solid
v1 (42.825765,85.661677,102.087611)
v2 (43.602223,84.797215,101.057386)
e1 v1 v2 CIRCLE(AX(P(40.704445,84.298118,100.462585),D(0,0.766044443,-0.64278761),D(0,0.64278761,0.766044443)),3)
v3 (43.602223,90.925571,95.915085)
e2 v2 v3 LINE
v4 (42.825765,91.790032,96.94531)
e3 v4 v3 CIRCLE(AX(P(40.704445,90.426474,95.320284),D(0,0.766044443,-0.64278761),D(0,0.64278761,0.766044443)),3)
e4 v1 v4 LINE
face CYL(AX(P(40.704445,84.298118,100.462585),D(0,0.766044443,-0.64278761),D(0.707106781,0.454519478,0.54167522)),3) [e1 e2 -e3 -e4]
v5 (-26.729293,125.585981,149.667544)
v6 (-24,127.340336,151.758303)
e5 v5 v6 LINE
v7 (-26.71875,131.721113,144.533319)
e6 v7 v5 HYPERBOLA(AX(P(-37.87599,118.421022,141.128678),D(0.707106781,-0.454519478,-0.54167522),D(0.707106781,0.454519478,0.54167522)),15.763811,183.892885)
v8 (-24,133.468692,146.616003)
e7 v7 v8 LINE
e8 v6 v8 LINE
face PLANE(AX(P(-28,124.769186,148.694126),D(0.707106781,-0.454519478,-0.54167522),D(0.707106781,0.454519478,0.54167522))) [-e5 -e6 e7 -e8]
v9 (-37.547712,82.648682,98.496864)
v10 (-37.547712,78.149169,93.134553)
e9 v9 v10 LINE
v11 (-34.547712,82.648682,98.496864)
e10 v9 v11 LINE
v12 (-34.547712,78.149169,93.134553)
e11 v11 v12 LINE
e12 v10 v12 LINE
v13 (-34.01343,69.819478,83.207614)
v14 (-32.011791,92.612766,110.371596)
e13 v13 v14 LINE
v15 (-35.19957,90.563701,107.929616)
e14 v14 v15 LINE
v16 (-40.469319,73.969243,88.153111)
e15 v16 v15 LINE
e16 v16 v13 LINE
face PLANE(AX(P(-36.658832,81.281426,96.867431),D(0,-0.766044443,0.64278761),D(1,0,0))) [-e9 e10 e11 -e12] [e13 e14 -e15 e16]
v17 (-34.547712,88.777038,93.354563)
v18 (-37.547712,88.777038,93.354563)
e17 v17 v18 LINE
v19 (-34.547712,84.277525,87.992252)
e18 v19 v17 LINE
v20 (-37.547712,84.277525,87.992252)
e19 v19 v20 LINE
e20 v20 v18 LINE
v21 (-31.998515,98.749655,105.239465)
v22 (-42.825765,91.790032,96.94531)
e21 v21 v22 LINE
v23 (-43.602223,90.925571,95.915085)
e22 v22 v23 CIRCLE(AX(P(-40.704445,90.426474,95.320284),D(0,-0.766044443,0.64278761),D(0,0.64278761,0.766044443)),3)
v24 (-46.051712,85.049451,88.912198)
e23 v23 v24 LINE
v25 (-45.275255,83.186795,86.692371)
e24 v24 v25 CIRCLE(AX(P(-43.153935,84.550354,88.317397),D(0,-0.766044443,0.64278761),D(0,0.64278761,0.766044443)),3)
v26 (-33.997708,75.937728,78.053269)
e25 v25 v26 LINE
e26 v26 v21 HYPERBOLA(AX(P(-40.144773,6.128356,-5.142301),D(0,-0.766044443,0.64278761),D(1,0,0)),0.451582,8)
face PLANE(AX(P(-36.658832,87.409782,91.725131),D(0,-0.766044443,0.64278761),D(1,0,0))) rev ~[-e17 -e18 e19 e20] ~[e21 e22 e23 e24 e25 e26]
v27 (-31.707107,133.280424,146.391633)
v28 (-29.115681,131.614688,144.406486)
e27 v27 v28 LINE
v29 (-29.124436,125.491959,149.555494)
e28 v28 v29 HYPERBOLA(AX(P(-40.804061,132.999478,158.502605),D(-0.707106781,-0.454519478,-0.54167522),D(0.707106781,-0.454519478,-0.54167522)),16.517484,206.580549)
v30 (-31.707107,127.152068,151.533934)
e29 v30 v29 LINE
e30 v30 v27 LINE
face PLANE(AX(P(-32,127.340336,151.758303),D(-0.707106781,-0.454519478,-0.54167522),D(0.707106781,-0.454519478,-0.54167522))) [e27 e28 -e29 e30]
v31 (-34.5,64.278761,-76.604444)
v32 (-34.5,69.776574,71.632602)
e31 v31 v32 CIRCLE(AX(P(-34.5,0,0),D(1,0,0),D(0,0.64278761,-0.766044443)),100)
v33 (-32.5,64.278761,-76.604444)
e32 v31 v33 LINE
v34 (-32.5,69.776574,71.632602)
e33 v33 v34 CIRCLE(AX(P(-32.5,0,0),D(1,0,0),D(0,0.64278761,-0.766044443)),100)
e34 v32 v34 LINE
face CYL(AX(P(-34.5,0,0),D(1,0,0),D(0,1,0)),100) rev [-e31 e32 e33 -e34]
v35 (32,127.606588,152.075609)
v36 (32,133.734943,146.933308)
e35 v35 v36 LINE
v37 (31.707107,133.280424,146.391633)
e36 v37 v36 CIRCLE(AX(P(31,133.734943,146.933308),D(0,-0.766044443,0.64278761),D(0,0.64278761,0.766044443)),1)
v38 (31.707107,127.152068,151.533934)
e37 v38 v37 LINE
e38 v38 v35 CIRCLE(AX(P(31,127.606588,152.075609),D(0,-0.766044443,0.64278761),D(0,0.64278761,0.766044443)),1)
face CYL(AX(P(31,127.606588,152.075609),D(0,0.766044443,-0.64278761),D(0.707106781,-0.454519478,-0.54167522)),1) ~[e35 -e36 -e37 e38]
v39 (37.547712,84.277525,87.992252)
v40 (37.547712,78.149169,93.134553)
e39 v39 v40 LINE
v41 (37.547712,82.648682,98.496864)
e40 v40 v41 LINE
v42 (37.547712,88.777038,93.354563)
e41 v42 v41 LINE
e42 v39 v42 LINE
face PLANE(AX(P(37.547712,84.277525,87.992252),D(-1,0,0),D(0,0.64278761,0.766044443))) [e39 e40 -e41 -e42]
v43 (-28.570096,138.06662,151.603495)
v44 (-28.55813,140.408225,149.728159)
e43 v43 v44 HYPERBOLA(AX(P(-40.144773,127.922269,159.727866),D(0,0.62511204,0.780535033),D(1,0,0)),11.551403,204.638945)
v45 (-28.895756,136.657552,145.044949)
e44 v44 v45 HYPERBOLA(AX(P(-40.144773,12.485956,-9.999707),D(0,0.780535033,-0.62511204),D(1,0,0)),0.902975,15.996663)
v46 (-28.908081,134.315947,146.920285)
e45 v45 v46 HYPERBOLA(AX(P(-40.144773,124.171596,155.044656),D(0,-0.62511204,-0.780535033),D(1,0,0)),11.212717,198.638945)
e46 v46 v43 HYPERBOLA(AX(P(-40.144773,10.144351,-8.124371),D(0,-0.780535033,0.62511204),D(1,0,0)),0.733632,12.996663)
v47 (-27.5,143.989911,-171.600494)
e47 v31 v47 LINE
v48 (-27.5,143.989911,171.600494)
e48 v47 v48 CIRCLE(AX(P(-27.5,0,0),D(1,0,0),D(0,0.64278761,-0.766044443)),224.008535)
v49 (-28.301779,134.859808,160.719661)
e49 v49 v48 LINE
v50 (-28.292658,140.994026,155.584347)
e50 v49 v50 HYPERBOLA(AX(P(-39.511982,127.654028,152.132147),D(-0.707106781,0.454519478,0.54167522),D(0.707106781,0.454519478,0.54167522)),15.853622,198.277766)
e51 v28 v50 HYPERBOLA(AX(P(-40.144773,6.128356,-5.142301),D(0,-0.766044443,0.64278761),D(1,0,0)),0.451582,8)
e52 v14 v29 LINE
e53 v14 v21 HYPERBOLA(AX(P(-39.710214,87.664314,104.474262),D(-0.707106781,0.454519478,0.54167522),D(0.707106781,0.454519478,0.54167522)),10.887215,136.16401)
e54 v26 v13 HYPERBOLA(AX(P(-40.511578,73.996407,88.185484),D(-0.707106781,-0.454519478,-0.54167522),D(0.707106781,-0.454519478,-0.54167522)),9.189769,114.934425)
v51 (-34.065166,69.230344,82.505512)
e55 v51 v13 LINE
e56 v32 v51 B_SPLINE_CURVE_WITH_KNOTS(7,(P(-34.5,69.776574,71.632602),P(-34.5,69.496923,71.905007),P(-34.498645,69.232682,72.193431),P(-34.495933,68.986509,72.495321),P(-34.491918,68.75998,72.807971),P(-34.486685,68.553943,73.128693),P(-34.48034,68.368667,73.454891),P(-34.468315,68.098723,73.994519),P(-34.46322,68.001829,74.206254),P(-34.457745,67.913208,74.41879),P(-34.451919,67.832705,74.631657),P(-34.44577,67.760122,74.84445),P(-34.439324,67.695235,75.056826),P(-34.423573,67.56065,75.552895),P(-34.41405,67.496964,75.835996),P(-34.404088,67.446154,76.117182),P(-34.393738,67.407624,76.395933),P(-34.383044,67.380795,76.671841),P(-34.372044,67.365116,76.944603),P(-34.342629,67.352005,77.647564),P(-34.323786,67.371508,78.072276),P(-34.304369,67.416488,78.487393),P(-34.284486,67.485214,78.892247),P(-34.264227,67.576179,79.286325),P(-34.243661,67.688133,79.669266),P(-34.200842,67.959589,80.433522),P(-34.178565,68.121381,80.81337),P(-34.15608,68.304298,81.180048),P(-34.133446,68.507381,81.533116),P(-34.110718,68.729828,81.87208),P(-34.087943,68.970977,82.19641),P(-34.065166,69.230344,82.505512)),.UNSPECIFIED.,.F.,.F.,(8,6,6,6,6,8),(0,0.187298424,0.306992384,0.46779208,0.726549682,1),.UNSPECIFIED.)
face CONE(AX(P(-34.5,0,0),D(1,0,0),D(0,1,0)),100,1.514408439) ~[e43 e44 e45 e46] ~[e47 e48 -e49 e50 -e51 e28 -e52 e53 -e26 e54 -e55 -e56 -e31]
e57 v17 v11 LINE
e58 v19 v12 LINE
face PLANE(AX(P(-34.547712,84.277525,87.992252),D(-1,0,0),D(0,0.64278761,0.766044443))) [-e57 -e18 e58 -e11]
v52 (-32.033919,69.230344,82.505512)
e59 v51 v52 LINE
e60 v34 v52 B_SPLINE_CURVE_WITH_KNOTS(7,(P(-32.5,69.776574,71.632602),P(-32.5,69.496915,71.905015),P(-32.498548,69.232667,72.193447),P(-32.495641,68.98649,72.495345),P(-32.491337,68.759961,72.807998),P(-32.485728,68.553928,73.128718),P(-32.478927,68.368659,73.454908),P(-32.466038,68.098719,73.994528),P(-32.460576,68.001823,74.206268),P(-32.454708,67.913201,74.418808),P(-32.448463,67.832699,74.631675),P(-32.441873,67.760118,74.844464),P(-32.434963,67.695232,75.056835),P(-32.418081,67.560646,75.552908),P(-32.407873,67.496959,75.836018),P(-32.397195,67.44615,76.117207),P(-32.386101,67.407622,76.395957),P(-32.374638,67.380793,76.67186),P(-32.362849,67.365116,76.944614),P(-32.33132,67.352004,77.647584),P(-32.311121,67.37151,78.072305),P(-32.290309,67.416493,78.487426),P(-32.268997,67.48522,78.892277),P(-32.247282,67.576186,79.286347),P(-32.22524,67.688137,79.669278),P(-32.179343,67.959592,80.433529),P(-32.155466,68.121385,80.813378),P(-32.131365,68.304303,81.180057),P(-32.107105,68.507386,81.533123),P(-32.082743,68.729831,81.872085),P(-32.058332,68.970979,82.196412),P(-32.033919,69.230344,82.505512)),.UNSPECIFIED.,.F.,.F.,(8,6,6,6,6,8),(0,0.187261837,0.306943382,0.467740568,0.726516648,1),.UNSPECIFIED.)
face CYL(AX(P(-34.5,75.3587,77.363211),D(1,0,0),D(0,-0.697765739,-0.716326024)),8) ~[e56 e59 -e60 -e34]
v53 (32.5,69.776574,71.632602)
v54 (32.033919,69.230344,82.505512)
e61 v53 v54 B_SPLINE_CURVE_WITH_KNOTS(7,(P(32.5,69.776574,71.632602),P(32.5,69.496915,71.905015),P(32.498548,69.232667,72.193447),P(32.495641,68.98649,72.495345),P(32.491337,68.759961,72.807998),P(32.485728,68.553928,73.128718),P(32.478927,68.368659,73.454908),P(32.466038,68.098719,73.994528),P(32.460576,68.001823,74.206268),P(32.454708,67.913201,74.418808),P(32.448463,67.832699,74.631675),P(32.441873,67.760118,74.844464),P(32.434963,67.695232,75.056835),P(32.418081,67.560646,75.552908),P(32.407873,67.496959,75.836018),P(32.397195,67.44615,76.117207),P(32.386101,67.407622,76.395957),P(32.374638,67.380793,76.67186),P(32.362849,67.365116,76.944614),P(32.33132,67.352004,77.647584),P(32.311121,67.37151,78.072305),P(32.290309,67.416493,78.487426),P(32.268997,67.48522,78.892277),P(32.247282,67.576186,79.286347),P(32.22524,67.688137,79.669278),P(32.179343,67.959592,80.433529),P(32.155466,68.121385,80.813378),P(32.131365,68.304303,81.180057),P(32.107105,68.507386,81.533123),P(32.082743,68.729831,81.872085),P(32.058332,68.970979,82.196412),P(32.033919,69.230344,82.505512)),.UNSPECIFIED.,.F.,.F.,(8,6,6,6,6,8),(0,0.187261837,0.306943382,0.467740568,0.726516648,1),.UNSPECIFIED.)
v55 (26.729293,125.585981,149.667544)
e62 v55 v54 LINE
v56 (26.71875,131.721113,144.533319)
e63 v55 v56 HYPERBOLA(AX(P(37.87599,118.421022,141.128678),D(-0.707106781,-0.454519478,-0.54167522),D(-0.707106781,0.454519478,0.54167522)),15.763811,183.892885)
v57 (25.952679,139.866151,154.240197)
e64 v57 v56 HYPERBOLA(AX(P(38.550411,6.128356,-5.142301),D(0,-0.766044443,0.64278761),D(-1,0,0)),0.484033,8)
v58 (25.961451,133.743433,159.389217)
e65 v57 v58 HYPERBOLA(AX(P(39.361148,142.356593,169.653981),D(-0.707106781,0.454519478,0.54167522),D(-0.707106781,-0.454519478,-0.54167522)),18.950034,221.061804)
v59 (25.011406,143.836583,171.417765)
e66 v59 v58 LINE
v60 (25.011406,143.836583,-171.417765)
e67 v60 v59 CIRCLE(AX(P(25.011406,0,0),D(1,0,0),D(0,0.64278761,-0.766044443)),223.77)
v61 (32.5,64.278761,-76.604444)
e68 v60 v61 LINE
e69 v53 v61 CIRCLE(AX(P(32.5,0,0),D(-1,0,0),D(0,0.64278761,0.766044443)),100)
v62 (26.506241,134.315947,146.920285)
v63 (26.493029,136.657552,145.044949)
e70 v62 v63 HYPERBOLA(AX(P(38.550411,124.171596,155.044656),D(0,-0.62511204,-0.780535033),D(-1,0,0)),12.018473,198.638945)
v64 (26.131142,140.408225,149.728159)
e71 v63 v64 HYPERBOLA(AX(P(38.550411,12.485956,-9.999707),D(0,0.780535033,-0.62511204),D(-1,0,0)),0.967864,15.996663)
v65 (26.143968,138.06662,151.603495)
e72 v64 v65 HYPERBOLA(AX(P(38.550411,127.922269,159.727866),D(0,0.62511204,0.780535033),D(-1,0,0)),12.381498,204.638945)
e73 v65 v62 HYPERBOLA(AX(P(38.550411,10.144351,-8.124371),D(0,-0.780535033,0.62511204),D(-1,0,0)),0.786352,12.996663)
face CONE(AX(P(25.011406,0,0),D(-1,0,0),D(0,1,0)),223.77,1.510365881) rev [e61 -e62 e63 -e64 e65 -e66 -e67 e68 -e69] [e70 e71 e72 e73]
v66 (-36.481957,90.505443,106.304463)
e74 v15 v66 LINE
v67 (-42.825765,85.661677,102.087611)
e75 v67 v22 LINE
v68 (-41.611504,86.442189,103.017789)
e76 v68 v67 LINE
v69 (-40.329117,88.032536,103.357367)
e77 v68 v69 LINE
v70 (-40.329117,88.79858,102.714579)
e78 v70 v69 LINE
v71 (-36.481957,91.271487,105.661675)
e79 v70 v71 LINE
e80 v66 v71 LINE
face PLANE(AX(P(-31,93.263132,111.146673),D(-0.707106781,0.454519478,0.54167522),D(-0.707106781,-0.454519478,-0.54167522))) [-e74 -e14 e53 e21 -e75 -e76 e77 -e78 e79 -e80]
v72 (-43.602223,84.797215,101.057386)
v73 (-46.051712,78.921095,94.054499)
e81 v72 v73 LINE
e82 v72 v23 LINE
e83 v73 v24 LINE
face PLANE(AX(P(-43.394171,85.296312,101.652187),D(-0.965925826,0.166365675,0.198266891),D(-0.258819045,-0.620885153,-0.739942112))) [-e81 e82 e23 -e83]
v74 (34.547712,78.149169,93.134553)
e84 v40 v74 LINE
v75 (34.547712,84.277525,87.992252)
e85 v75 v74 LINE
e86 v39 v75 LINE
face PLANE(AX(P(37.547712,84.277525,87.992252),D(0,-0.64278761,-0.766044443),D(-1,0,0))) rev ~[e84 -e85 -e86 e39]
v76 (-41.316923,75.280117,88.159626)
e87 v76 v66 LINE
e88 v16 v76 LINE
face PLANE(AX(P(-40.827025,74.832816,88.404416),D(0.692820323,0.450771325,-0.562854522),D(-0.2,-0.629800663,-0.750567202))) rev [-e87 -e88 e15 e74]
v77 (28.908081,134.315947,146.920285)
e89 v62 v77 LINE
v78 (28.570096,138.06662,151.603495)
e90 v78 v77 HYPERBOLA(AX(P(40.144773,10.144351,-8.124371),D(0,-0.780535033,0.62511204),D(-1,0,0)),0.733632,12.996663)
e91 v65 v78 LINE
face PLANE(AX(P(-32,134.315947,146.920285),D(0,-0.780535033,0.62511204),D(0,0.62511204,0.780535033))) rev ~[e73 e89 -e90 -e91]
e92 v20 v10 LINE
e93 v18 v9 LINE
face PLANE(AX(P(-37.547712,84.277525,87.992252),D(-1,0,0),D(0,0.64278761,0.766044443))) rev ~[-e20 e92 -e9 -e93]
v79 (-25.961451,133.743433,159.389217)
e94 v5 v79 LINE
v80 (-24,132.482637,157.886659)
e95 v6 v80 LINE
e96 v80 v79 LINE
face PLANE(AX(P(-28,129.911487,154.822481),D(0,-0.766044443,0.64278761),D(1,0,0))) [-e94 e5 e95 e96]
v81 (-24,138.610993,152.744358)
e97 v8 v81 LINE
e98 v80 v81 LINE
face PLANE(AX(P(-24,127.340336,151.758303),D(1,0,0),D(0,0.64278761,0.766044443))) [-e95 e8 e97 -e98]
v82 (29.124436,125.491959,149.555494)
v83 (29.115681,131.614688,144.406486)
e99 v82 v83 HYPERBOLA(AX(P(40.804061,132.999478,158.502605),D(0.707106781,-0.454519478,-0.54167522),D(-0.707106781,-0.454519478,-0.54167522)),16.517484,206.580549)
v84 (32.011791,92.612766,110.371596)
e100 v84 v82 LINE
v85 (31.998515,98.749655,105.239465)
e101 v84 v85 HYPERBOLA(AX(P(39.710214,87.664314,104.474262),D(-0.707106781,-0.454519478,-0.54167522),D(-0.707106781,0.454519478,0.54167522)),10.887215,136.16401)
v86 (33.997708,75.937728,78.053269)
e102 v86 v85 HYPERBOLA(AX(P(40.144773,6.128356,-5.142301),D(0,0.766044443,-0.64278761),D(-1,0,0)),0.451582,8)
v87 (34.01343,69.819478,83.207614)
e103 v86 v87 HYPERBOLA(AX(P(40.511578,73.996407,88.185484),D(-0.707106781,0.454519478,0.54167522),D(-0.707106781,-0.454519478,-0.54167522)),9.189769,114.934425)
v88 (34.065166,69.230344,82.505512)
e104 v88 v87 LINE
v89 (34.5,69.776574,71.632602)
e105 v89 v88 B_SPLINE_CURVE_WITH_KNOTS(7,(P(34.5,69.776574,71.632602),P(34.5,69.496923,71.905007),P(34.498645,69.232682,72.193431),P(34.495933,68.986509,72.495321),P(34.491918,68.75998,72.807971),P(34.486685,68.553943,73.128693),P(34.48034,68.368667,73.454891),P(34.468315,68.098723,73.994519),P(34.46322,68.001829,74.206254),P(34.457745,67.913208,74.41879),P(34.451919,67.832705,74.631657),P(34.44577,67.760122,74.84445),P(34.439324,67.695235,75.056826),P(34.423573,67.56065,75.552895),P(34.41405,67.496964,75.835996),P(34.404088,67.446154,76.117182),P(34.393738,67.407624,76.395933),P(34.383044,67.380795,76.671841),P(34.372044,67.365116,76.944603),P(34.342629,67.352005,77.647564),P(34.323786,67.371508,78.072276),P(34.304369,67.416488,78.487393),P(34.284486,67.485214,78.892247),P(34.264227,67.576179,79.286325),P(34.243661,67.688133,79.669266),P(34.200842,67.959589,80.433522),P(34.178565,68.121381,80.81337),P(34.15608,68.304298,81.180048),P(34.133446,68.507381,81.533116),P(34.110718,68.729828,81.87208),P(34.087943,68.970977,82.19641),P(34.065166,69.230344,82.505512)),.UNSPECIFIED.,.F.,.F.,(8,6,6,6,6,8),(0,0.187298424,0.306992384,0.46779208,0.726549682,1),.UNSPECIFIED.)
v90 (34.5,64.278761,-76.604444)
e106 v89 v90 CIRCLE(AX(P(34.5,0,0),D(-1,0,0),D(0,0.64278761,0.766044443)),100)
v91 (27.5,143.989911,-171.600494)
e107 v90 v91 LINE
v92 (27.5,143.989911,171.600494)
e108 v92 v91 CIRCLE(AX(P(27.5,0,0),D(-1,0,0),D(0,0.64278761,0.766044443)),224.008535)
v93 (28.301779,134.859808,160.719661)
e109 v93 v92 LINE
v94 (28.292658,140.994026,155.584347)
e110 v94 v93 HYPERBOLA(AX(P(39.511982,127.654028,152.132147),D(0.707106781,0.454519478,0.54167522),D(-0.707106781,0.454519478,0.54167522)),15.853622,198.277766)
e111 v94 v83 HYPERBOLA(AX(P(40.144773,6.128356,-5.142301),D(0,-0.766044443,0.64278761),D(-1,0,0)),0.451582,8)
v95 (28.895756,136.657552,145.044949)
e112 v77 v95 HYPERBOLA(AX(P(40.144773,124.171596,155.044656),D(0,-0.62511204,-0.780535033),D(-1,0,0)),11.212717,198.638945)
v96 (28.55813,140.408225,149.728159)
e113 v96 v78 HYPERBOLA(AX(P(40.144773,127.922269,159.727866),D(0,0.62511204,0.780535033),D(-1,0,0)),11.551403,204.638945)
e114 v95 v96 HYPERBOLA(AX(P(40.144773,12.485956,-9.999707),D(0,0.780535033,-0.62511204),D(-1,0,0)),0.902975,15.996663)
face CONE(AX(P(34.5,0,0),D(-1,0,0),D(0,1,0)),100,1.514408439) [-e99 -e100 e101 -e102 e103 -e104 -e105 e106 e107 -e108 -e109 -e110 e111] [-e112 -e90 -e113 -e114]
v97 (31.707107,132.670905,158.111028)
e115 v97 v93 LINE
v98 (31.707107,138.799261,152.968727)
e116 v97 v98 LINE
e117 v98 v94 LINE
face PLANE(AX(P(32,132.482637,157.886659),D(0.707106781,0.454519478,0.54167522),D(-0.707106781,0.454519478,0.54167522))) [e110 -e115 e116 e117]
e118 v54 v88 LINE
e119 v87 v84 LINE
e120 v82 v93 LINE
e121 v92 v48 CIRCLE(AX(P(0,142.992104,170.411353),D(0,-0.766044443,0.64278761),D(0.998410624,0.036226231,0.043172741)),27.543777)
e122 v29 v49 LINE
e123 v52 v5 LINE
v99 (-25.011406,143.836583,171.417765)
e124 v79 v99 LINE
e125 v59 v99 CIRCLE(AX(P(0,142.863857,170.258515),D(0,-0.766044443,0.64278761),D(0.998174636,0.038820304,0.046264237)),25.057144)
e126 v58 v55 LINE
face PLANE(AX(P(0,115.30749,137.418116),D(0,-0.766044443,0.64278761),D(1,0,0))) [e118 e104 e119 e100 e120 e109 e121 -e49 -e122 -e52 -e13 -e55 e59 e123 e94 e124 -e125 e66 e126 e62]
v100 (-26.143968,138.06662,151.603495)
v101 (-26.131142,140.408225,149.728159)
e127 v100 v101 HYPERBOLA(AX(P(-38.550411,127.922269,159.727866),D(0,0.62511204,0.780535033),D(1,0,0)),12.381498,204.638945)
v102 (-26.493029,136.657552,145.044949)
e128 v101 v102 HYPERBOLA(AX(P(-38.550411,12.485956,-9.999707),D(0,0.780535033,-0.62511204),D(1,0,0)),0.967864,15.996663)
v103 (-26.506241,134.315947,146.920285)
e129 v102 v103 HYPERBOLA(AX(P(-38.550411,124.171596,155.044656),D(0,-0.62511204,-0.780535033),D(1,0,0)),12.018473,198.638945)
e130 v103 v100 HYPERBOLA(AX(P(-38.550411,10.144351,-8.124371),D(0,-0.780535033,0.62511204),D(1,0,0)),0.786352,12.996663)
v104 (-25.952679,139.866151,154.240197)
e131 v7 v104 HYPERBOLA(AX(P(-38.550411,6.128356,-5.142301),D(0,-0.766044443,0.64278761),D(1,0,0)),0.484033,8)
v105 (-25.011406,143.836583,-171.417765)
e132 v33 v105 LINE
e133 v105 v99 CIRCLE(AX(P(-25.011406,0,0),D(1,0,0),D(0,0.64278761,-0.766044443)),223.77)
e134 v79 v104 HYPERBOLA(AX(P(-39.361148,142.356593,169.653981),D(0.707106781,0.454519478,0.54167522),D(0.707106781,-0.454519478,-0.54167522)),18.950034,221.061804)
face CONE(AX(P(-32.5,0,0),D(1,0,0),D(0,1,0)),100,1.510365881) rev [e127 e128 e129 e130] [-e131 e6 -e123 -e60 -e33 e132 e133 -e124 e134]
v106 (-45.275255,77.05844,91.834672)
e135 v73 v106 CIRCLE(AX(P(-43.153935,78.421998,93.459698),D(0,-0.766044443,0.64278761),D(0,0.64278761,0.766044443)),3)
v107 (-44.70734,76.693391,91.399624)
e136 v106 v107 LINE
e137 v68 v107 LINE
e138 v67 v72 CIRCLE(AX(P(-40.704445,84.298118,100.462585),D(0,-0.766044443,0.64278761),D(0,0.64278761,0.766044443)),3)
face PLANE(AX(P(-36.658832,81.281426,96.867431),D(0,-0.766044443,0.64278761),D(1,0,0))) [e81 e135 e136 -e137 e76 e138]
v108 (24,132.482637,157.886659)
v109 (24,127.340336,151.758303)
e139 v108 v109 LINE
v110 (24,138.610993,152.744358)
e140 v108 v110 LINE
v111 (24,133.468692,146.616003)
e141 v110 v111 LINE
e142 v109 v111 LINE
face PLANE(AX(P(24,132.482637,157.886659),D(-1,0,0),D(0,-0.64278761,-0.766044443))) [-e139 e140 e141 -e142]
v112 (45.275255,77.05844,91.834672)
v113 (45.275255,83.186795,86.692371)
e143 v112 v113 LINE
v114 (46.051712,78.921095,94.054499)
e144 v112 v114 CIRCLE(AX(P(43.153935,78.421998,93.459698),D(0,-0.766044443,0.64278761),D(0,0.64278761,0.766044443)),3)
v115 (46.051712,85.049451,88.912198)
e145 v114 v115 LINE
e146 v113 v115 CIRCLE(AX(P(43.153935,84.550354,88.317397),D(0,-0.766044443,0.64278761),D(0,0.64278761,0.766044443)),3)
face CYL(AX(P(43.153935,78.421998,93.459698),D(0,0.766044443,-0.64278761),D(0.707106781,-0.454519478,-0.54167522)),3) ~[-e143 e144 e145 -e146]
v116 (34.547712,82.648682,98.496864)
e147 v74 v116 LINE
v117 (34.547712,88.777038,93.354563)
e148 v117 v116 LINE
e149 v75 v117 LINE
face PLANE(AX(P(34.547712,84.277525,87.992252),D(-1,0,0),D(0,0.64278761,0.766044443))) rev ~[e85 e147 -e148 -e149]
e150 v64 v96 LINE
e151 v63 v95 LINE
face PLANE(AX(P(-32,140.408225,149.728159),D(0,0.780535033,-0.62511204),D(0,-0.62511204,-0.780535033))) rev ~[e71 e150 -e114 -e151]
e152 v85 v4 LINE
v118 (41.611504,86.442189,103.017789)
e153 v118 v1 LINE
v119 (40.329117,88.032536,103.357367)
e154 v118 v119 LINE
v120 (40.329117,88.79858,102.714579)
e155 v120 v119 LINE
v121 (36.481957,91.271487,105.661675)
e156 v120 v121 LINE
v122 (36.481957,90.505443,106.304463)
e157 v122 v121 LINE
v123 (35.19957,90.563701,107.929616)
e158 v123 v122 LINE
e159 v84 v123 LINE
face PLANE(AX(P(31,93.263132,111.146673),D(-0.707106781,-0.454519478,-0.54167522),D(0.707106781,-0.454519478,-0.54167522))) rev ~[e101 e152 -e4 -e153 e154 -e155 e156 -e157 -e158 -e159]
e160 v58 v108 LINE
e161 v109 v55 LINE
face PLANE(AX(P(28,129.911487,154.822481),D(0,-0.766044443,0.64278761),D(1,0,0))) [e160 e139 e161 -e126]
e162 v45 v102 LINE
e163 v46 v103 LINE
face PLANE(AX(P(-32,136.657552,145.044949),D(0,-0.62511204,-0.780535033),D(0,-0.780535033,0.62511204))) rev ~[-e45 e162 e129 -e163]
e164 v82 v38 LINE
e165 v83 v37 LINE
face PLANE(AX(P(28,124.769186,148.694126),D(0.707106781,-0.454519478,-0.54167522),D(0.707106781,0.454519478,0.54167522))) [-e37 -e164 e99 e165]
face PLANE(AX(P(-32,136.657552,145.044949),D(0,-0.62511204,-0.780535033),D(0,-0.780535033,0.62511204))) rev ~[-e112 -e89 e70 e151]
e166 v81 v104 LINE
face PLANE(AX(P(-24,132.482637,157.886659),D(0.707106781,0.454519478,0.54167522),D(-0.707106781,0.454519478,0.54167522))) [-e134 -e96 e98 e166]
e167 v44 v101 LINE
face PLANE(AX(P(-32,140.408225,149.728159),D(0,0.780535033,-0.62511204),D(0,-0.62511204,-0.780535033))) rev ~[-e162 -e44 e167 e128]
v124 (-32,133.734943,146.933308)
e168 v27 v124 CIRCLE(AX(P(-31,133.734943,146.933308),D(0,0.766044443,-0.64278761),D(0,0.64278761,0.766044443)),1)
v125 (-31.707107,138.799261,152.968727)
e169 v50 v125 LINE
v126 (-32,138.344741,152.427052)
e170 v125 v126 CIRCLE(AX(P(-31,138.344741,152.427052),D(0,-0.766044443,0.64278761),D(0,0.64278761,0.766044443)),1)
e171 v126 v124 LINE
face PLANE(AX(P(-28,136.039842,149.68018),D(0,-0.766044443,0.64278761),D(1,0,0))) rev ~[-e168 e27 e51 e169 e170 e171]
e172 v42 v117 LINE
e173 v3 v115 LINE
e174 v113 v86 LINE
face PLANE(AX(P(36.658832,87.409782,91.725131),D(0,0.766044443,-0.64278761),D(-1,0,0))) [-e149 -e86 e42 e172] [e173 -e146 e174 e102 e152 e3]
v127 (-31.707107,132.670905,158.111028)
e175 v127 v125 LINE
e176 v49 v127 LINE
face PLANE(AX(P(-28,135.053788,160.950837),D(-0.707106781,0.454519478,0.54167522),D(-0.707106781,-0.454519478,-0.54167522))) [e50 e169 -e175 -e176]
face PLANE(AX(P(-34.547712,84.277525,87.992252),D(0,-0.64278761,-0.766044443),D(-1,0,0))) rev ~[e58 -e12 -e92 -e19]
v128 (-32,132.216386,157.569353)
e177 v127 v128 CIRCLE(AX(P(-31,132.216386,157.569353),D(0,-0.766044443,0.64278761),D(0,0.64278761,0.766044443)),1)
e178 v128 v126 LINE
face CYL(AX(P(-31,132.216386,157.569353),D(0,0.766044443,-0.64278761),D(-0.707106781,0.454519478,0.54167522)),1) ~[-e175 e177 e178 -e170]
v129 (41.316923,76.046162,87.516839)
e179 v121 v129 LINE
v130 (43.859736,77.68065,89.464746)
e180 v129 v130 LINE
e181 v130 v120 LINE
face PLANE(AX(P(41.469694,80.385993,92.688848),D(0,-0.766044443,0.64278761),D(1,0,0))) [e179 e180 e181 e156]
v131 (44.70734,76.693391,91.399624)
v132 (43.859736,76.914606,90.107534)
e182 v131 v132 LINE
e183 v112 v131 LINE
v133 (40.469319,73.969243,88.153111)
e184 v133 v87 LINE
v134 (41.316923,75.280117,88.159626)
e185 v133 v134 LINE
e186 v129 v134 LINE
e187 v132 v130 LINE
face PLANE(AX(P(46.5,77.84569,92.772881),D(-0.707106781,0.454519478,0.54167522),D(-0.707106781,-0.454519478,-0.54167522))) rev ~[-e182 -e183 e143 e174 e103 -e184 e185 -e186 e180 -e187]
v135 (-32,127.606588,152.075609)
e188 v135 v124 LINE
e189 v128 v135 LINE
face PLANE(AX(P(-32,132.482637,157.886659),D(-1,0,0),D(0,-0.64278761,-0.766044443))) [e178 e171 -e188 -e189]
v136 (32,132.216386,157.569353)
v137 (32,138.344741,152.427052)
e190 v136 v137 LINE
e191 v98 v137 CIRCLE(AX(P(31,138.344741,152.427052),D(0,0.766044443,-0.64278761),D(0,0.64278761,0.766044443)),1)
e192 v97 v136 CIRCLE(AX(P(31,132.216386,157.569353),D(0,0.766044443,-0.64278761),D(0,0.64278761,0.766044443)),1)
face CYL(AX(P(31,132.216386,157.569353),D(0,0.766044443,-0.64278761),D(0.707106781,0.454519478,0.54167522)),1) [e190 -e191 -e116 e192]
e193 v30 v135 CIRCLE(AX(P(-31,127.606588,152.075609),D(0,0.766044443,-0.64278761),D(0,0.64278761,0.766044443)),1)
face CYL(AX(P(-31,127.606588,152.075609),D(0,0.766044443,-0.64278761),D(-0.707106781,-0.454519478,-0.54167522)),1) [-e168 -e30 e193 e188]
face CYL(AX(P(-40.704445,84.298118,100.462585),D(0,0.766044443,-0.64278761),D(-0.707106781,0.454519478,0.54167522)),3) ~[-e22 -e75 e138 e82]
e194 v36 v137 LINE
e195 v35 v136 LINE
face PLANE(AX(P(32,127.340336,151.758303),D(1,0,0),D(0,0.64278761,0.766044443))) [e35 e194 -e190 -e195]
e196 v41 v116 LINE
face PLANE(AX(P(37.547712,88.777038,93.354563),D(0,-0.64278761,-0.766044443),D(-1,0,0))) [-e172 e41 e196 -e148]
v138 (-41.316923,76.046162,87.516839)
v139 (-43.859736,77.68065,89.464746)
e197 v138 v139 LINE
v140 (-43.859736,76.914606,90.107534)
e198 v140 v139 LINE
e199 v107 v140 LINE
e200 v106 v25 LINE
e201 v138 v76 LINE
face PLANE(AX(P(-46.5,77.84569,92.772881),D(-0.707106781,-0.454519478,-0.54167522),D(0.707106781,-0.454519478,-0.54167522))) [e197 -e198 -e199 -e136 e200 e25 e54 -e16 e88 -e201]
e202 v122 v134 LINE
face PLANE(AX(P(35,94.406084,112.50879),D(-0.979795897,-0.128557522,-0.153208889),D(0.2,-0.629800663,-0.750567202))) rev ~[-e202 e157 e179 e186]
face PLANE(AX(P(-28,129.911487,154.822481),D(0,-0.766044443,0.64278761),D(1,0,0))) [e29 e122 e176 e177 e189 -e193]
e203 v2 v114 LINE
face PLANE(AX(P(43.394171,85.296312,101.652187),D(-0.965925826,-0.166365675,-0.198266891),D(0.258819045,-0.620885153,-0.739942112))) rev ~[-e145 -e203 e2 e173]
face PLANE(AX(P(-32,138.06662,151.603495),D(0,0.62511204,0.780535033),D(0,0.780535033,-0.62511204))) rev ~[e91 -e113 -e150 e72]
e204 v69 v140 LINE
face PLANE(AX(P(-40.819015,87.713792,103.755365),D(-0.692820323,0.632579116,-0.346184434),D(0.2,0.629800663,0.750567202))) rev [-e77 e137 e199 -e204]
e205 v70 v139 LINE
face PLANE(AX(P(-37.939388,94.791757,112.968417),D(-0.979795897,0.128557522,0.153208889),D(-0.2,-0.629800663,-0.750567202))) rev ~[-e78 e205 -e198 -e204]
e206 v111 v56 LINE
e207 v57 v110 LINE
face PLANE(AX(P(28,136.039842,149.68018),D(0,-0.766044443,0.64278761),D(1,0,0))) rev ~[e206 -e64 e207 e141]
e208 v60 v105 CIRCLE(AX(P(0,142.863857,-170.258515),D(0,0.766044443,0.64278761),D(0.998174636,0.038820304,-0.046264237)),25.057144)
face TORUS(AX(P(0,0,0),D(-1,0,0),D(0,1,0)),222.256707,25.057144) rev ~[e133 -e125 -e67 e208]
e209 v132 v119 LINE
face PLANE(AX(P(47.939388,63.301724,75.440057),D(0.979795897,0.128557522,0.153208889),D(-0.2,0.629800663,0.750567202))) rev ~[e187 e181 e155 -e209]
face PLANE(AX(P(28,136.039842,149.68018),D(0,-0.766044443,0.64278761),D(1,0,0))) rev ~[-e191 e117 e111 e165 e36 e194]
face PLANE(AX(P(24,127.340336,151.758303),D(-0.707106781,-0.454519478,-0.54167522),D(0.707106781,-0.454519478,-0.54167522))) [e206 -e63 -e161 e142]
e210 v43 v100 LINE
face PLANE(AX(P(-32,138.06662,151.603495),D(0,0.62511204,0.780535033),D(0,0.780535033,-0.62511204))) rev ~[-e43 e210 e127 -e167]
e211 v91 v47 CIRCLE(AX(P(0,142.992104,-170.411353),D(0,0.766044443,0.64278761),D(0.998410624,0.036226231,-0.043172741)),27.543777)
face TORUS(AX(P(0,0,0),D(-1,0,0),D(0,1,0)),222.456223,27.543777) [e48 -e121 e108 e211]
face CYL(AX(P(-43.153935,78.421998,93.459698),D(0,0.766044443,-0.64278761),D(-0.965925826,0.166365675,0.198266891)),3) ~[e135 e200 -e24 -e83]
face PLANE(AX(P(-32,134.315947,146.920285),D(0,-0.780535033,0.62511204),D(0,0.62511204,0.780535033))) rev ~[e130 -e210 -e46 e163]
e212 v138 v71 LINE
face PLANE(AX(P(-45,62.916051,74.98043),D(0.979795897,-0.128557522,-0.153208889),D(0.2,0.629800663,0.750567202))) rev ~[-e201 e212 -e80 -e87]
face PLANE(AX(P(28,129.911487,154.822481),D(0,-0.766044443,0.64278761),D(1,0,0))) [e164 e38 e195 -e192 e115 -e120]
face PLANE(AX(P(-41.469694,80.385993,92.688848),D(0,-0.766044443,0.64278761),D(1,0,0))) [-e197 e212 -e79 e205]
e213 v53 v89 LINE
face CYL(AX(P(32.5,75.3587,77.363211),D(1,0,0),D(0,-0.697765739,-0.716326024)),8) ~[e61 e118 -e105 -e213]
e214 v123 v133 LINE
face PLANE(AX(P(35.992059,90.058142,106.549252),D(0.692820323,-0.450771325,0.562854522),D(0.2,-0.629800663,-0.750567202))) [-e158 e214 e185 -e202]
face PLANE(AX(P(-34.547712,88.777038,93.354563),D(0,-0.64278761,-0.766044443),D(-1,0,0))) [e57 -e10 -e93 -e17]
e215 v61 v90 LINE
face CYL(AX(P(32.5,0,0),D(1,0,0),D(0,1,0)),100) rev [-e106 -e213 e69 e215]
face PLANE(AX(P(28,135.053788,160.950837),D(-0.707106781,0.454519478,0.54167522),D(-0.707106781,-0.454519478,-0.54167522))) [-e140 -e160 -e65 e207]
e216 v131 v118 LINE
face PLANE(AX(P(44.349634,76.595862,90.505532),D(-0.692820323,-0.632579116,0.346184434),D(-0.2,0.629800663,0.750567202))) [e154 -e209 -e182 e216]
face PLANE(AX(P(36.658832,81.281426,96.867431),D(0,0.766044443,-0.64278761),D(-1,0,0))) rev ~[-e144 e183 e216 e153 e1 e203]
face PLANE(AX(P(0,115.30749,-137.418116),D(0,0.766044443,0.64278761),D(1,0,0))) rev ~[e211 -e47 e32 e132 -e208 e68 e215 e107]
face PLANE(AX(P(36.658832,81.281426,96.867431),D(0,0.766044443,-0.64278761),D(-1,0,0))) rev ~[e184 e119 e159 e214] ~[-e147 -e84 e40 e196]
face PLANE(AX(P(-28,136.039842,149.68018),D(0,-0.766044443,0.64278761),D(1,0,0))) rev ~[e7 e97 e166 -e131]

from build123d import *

# Parameters (mm, degrees)
REVOLUTION_ANGLE = 100
FILLET_R         = 8
PAD_DEPTH        = 8
POCKET_DEPTH     = 2
CHAMFER_SIZE     = 1
SKETCH005_W      = 3
SKETCH005_H      = 7
POCKET001_DEPTH  = 81.8615815525
POCKET002_DEPTH  = 78.501
FILLET001_R      = 3
FILLET002_R      = 1


with BuildPart() as part:
    # Sketch → Revolution (revolve, symmetric)
    with BuildSketch(Plane.XY) as revolution_sk:
        with BuildLine():
            ThreePointArc((27.5, 224.008535095), (0, 250), (-27.5, 224.008535095))
            Line((-34.5, 100), (-27.5, 224.008535095))
            Line((-34.5, 100), (-32.5, 100))
            Line((-32.5, 100), (-25.0114058168, 223.77))
            ThreePointArc((25.0114058168, 223.77), (0, 247.3138512729), (-25.0114058168, 223.77))
            Line((25.0114058168, 223.77), (32.5, 100))
            Line((32.5, 100), (34.5, 100))
            Line((34.5, 100), (27.5, 224.008535095))
        make_face()
    revolve(axis=Axis((0, 0, 0), (1, 0, 0)), revolution_arc=REVOLUTION_ANGLE / 2)
    revolve(revolution_sk.sketch, axis=Axis((0, 0, 0), (-1, 0, 0)), revolution_arc=REVOLUTION_ANGLE / 2)

    # Fillet
    fillet_edges = [part.edges().sort_by_distance(p)[0] for p in [
        (33.5, 64.278761, 76.604444),
        (-33.5, 64.278761, 76.604444),
    ]]
    fillet(fillet_edges, radius=FILLET_R)

    # Sketch002 (on Face5 of Fillet) → Pad (new body)
    with BuildSketch(Plane(origin=(0, 0, 0), x_dir=(1, 0, 0), z_dir=(0, -0.7660444431, 0.6427876097))):
        Polygon((-43.3941714588, 132.6975053664), (-46.5, 121.1063954509), (-33.2488189206, 107.8552143715), (-31, 145.091676825), align=None)
        Polygon((43.3941714588, 132.6975053664), (46.5, 121.1063954509), (33.2488189206, 107.8552143715), (31, 145.091676825), align=None)
        Polygon((28, 194.1063954509), (32, 198.1063954509), (32, 206.1063954509), (28, 210.1063954509), (24, 206.1063954509), (24, 198.1063954509), align=None)
        Polygon((-28, 194.1063954509), (-24, 198.1063954509), (-24, 206.1063954509), (-28, 210.1063954509), (-32, 206.1063954509), (-32, 198.1063954509), align=None)
    extrude(amount=-PAD_DEPTH)

    # Sketch003 (on Face47 of Pad) → Pocket (cut)
    with BuildSketch(Plane(origin=(0, 0, 0), x_dir=(1, 0, 0), z_dir=(0, -0.7660444431, 0.6427876097))):
        Polygon((35, 146.8697948557), (45, 97.88), (47.9393876913, 98.48), (37.9393876913, 147.4697948557), align=None)
        Polygon((-47.9393876913, 98.4800000001), (-45, 97.88), (-35, 146.8697948557), (-37.9393876913, 147.4697948558), align=None)
    extrude(amount=-POCKET_DEPTH, mode=Mode.SUBTRACT)

    # Chamfer
    chamfer_edges = [part.edges().sort_by_distance(p)[0] for p in [
        (42.094426, 81.707526, 97.375238),
        (38.89944, 82.126736, 97.874832),
        (-38.89944, 82.126736, 97.874832),
        (-42.094426, 81.707526, 97.375238),
    ]]
    chamfer(chamfer_edges, length=CHAMFER_SIZE)

    # Sketch005 (on Face6 of Chamfer) → Pocket001 (cut, through all)
    with BuildSketch(Plane(origin=(0, 6.128355545, -5.1423008775), x_dir=(-1, 0, 0), z_dir=(0, 0.7660444431, -0.6427876097))):
        with Locations((-36.0477122259, 125.0785244639)):
            Rectangle(SKETCH005_W, SKETCH005_H)
        with Locations((36.0477122259, 125.0785244639)):
            Rectangle(SKETCH005_W, SKETCH005_H)
    extrude(amount=-POCKET001_DEPTH, mode=Mode.SUBTRACT)

    # Sketch006 (on Face54 of Pocket001) → Pocket002 (cut, through all)
    with BuildSketch(Plane(origin=(-32, 0, 0), x_dir=(0, -1, 0), z_dir=(-1, 0, 0))):
        Polygon((-140.4082247347, 149.7281591854), (-136.6575524936, 145.0449489894), (-134.3159473956, 146.92028511), (-138.0666196367, 151.6034953059), align=None)
    extrude(amount=-POCKET002_DEPTH, mode=Mode.SUBTRACT)

    # Fillet001
    fillet001_edges = [part.edges().sort_by_distance(p)[0] for p in [
        (46.5, 80.909868, 90.201731),
        (43.394171, 88.36049, 99.081036),
        (-43.394171, 88.36049, 99.081036),
        (-46.5, 80.909868, 90.201731),
    ]]
    fillet(fillet001_edges, radius=FILLET001_R)

    # Fillet002
    fillet002_edges = [part.edges().sort_by_distance(p)[0] for p in [
        (32, 135.546815, 155.315508),
        (32, 130.404514, 149.187153),
        (-32, 130.404514, 149.187153),
        (-32, 135.546815, 155.315508),
    ]]
    fillet(fillet002_edges, radius=FILLET002_R)


solid = part.part
